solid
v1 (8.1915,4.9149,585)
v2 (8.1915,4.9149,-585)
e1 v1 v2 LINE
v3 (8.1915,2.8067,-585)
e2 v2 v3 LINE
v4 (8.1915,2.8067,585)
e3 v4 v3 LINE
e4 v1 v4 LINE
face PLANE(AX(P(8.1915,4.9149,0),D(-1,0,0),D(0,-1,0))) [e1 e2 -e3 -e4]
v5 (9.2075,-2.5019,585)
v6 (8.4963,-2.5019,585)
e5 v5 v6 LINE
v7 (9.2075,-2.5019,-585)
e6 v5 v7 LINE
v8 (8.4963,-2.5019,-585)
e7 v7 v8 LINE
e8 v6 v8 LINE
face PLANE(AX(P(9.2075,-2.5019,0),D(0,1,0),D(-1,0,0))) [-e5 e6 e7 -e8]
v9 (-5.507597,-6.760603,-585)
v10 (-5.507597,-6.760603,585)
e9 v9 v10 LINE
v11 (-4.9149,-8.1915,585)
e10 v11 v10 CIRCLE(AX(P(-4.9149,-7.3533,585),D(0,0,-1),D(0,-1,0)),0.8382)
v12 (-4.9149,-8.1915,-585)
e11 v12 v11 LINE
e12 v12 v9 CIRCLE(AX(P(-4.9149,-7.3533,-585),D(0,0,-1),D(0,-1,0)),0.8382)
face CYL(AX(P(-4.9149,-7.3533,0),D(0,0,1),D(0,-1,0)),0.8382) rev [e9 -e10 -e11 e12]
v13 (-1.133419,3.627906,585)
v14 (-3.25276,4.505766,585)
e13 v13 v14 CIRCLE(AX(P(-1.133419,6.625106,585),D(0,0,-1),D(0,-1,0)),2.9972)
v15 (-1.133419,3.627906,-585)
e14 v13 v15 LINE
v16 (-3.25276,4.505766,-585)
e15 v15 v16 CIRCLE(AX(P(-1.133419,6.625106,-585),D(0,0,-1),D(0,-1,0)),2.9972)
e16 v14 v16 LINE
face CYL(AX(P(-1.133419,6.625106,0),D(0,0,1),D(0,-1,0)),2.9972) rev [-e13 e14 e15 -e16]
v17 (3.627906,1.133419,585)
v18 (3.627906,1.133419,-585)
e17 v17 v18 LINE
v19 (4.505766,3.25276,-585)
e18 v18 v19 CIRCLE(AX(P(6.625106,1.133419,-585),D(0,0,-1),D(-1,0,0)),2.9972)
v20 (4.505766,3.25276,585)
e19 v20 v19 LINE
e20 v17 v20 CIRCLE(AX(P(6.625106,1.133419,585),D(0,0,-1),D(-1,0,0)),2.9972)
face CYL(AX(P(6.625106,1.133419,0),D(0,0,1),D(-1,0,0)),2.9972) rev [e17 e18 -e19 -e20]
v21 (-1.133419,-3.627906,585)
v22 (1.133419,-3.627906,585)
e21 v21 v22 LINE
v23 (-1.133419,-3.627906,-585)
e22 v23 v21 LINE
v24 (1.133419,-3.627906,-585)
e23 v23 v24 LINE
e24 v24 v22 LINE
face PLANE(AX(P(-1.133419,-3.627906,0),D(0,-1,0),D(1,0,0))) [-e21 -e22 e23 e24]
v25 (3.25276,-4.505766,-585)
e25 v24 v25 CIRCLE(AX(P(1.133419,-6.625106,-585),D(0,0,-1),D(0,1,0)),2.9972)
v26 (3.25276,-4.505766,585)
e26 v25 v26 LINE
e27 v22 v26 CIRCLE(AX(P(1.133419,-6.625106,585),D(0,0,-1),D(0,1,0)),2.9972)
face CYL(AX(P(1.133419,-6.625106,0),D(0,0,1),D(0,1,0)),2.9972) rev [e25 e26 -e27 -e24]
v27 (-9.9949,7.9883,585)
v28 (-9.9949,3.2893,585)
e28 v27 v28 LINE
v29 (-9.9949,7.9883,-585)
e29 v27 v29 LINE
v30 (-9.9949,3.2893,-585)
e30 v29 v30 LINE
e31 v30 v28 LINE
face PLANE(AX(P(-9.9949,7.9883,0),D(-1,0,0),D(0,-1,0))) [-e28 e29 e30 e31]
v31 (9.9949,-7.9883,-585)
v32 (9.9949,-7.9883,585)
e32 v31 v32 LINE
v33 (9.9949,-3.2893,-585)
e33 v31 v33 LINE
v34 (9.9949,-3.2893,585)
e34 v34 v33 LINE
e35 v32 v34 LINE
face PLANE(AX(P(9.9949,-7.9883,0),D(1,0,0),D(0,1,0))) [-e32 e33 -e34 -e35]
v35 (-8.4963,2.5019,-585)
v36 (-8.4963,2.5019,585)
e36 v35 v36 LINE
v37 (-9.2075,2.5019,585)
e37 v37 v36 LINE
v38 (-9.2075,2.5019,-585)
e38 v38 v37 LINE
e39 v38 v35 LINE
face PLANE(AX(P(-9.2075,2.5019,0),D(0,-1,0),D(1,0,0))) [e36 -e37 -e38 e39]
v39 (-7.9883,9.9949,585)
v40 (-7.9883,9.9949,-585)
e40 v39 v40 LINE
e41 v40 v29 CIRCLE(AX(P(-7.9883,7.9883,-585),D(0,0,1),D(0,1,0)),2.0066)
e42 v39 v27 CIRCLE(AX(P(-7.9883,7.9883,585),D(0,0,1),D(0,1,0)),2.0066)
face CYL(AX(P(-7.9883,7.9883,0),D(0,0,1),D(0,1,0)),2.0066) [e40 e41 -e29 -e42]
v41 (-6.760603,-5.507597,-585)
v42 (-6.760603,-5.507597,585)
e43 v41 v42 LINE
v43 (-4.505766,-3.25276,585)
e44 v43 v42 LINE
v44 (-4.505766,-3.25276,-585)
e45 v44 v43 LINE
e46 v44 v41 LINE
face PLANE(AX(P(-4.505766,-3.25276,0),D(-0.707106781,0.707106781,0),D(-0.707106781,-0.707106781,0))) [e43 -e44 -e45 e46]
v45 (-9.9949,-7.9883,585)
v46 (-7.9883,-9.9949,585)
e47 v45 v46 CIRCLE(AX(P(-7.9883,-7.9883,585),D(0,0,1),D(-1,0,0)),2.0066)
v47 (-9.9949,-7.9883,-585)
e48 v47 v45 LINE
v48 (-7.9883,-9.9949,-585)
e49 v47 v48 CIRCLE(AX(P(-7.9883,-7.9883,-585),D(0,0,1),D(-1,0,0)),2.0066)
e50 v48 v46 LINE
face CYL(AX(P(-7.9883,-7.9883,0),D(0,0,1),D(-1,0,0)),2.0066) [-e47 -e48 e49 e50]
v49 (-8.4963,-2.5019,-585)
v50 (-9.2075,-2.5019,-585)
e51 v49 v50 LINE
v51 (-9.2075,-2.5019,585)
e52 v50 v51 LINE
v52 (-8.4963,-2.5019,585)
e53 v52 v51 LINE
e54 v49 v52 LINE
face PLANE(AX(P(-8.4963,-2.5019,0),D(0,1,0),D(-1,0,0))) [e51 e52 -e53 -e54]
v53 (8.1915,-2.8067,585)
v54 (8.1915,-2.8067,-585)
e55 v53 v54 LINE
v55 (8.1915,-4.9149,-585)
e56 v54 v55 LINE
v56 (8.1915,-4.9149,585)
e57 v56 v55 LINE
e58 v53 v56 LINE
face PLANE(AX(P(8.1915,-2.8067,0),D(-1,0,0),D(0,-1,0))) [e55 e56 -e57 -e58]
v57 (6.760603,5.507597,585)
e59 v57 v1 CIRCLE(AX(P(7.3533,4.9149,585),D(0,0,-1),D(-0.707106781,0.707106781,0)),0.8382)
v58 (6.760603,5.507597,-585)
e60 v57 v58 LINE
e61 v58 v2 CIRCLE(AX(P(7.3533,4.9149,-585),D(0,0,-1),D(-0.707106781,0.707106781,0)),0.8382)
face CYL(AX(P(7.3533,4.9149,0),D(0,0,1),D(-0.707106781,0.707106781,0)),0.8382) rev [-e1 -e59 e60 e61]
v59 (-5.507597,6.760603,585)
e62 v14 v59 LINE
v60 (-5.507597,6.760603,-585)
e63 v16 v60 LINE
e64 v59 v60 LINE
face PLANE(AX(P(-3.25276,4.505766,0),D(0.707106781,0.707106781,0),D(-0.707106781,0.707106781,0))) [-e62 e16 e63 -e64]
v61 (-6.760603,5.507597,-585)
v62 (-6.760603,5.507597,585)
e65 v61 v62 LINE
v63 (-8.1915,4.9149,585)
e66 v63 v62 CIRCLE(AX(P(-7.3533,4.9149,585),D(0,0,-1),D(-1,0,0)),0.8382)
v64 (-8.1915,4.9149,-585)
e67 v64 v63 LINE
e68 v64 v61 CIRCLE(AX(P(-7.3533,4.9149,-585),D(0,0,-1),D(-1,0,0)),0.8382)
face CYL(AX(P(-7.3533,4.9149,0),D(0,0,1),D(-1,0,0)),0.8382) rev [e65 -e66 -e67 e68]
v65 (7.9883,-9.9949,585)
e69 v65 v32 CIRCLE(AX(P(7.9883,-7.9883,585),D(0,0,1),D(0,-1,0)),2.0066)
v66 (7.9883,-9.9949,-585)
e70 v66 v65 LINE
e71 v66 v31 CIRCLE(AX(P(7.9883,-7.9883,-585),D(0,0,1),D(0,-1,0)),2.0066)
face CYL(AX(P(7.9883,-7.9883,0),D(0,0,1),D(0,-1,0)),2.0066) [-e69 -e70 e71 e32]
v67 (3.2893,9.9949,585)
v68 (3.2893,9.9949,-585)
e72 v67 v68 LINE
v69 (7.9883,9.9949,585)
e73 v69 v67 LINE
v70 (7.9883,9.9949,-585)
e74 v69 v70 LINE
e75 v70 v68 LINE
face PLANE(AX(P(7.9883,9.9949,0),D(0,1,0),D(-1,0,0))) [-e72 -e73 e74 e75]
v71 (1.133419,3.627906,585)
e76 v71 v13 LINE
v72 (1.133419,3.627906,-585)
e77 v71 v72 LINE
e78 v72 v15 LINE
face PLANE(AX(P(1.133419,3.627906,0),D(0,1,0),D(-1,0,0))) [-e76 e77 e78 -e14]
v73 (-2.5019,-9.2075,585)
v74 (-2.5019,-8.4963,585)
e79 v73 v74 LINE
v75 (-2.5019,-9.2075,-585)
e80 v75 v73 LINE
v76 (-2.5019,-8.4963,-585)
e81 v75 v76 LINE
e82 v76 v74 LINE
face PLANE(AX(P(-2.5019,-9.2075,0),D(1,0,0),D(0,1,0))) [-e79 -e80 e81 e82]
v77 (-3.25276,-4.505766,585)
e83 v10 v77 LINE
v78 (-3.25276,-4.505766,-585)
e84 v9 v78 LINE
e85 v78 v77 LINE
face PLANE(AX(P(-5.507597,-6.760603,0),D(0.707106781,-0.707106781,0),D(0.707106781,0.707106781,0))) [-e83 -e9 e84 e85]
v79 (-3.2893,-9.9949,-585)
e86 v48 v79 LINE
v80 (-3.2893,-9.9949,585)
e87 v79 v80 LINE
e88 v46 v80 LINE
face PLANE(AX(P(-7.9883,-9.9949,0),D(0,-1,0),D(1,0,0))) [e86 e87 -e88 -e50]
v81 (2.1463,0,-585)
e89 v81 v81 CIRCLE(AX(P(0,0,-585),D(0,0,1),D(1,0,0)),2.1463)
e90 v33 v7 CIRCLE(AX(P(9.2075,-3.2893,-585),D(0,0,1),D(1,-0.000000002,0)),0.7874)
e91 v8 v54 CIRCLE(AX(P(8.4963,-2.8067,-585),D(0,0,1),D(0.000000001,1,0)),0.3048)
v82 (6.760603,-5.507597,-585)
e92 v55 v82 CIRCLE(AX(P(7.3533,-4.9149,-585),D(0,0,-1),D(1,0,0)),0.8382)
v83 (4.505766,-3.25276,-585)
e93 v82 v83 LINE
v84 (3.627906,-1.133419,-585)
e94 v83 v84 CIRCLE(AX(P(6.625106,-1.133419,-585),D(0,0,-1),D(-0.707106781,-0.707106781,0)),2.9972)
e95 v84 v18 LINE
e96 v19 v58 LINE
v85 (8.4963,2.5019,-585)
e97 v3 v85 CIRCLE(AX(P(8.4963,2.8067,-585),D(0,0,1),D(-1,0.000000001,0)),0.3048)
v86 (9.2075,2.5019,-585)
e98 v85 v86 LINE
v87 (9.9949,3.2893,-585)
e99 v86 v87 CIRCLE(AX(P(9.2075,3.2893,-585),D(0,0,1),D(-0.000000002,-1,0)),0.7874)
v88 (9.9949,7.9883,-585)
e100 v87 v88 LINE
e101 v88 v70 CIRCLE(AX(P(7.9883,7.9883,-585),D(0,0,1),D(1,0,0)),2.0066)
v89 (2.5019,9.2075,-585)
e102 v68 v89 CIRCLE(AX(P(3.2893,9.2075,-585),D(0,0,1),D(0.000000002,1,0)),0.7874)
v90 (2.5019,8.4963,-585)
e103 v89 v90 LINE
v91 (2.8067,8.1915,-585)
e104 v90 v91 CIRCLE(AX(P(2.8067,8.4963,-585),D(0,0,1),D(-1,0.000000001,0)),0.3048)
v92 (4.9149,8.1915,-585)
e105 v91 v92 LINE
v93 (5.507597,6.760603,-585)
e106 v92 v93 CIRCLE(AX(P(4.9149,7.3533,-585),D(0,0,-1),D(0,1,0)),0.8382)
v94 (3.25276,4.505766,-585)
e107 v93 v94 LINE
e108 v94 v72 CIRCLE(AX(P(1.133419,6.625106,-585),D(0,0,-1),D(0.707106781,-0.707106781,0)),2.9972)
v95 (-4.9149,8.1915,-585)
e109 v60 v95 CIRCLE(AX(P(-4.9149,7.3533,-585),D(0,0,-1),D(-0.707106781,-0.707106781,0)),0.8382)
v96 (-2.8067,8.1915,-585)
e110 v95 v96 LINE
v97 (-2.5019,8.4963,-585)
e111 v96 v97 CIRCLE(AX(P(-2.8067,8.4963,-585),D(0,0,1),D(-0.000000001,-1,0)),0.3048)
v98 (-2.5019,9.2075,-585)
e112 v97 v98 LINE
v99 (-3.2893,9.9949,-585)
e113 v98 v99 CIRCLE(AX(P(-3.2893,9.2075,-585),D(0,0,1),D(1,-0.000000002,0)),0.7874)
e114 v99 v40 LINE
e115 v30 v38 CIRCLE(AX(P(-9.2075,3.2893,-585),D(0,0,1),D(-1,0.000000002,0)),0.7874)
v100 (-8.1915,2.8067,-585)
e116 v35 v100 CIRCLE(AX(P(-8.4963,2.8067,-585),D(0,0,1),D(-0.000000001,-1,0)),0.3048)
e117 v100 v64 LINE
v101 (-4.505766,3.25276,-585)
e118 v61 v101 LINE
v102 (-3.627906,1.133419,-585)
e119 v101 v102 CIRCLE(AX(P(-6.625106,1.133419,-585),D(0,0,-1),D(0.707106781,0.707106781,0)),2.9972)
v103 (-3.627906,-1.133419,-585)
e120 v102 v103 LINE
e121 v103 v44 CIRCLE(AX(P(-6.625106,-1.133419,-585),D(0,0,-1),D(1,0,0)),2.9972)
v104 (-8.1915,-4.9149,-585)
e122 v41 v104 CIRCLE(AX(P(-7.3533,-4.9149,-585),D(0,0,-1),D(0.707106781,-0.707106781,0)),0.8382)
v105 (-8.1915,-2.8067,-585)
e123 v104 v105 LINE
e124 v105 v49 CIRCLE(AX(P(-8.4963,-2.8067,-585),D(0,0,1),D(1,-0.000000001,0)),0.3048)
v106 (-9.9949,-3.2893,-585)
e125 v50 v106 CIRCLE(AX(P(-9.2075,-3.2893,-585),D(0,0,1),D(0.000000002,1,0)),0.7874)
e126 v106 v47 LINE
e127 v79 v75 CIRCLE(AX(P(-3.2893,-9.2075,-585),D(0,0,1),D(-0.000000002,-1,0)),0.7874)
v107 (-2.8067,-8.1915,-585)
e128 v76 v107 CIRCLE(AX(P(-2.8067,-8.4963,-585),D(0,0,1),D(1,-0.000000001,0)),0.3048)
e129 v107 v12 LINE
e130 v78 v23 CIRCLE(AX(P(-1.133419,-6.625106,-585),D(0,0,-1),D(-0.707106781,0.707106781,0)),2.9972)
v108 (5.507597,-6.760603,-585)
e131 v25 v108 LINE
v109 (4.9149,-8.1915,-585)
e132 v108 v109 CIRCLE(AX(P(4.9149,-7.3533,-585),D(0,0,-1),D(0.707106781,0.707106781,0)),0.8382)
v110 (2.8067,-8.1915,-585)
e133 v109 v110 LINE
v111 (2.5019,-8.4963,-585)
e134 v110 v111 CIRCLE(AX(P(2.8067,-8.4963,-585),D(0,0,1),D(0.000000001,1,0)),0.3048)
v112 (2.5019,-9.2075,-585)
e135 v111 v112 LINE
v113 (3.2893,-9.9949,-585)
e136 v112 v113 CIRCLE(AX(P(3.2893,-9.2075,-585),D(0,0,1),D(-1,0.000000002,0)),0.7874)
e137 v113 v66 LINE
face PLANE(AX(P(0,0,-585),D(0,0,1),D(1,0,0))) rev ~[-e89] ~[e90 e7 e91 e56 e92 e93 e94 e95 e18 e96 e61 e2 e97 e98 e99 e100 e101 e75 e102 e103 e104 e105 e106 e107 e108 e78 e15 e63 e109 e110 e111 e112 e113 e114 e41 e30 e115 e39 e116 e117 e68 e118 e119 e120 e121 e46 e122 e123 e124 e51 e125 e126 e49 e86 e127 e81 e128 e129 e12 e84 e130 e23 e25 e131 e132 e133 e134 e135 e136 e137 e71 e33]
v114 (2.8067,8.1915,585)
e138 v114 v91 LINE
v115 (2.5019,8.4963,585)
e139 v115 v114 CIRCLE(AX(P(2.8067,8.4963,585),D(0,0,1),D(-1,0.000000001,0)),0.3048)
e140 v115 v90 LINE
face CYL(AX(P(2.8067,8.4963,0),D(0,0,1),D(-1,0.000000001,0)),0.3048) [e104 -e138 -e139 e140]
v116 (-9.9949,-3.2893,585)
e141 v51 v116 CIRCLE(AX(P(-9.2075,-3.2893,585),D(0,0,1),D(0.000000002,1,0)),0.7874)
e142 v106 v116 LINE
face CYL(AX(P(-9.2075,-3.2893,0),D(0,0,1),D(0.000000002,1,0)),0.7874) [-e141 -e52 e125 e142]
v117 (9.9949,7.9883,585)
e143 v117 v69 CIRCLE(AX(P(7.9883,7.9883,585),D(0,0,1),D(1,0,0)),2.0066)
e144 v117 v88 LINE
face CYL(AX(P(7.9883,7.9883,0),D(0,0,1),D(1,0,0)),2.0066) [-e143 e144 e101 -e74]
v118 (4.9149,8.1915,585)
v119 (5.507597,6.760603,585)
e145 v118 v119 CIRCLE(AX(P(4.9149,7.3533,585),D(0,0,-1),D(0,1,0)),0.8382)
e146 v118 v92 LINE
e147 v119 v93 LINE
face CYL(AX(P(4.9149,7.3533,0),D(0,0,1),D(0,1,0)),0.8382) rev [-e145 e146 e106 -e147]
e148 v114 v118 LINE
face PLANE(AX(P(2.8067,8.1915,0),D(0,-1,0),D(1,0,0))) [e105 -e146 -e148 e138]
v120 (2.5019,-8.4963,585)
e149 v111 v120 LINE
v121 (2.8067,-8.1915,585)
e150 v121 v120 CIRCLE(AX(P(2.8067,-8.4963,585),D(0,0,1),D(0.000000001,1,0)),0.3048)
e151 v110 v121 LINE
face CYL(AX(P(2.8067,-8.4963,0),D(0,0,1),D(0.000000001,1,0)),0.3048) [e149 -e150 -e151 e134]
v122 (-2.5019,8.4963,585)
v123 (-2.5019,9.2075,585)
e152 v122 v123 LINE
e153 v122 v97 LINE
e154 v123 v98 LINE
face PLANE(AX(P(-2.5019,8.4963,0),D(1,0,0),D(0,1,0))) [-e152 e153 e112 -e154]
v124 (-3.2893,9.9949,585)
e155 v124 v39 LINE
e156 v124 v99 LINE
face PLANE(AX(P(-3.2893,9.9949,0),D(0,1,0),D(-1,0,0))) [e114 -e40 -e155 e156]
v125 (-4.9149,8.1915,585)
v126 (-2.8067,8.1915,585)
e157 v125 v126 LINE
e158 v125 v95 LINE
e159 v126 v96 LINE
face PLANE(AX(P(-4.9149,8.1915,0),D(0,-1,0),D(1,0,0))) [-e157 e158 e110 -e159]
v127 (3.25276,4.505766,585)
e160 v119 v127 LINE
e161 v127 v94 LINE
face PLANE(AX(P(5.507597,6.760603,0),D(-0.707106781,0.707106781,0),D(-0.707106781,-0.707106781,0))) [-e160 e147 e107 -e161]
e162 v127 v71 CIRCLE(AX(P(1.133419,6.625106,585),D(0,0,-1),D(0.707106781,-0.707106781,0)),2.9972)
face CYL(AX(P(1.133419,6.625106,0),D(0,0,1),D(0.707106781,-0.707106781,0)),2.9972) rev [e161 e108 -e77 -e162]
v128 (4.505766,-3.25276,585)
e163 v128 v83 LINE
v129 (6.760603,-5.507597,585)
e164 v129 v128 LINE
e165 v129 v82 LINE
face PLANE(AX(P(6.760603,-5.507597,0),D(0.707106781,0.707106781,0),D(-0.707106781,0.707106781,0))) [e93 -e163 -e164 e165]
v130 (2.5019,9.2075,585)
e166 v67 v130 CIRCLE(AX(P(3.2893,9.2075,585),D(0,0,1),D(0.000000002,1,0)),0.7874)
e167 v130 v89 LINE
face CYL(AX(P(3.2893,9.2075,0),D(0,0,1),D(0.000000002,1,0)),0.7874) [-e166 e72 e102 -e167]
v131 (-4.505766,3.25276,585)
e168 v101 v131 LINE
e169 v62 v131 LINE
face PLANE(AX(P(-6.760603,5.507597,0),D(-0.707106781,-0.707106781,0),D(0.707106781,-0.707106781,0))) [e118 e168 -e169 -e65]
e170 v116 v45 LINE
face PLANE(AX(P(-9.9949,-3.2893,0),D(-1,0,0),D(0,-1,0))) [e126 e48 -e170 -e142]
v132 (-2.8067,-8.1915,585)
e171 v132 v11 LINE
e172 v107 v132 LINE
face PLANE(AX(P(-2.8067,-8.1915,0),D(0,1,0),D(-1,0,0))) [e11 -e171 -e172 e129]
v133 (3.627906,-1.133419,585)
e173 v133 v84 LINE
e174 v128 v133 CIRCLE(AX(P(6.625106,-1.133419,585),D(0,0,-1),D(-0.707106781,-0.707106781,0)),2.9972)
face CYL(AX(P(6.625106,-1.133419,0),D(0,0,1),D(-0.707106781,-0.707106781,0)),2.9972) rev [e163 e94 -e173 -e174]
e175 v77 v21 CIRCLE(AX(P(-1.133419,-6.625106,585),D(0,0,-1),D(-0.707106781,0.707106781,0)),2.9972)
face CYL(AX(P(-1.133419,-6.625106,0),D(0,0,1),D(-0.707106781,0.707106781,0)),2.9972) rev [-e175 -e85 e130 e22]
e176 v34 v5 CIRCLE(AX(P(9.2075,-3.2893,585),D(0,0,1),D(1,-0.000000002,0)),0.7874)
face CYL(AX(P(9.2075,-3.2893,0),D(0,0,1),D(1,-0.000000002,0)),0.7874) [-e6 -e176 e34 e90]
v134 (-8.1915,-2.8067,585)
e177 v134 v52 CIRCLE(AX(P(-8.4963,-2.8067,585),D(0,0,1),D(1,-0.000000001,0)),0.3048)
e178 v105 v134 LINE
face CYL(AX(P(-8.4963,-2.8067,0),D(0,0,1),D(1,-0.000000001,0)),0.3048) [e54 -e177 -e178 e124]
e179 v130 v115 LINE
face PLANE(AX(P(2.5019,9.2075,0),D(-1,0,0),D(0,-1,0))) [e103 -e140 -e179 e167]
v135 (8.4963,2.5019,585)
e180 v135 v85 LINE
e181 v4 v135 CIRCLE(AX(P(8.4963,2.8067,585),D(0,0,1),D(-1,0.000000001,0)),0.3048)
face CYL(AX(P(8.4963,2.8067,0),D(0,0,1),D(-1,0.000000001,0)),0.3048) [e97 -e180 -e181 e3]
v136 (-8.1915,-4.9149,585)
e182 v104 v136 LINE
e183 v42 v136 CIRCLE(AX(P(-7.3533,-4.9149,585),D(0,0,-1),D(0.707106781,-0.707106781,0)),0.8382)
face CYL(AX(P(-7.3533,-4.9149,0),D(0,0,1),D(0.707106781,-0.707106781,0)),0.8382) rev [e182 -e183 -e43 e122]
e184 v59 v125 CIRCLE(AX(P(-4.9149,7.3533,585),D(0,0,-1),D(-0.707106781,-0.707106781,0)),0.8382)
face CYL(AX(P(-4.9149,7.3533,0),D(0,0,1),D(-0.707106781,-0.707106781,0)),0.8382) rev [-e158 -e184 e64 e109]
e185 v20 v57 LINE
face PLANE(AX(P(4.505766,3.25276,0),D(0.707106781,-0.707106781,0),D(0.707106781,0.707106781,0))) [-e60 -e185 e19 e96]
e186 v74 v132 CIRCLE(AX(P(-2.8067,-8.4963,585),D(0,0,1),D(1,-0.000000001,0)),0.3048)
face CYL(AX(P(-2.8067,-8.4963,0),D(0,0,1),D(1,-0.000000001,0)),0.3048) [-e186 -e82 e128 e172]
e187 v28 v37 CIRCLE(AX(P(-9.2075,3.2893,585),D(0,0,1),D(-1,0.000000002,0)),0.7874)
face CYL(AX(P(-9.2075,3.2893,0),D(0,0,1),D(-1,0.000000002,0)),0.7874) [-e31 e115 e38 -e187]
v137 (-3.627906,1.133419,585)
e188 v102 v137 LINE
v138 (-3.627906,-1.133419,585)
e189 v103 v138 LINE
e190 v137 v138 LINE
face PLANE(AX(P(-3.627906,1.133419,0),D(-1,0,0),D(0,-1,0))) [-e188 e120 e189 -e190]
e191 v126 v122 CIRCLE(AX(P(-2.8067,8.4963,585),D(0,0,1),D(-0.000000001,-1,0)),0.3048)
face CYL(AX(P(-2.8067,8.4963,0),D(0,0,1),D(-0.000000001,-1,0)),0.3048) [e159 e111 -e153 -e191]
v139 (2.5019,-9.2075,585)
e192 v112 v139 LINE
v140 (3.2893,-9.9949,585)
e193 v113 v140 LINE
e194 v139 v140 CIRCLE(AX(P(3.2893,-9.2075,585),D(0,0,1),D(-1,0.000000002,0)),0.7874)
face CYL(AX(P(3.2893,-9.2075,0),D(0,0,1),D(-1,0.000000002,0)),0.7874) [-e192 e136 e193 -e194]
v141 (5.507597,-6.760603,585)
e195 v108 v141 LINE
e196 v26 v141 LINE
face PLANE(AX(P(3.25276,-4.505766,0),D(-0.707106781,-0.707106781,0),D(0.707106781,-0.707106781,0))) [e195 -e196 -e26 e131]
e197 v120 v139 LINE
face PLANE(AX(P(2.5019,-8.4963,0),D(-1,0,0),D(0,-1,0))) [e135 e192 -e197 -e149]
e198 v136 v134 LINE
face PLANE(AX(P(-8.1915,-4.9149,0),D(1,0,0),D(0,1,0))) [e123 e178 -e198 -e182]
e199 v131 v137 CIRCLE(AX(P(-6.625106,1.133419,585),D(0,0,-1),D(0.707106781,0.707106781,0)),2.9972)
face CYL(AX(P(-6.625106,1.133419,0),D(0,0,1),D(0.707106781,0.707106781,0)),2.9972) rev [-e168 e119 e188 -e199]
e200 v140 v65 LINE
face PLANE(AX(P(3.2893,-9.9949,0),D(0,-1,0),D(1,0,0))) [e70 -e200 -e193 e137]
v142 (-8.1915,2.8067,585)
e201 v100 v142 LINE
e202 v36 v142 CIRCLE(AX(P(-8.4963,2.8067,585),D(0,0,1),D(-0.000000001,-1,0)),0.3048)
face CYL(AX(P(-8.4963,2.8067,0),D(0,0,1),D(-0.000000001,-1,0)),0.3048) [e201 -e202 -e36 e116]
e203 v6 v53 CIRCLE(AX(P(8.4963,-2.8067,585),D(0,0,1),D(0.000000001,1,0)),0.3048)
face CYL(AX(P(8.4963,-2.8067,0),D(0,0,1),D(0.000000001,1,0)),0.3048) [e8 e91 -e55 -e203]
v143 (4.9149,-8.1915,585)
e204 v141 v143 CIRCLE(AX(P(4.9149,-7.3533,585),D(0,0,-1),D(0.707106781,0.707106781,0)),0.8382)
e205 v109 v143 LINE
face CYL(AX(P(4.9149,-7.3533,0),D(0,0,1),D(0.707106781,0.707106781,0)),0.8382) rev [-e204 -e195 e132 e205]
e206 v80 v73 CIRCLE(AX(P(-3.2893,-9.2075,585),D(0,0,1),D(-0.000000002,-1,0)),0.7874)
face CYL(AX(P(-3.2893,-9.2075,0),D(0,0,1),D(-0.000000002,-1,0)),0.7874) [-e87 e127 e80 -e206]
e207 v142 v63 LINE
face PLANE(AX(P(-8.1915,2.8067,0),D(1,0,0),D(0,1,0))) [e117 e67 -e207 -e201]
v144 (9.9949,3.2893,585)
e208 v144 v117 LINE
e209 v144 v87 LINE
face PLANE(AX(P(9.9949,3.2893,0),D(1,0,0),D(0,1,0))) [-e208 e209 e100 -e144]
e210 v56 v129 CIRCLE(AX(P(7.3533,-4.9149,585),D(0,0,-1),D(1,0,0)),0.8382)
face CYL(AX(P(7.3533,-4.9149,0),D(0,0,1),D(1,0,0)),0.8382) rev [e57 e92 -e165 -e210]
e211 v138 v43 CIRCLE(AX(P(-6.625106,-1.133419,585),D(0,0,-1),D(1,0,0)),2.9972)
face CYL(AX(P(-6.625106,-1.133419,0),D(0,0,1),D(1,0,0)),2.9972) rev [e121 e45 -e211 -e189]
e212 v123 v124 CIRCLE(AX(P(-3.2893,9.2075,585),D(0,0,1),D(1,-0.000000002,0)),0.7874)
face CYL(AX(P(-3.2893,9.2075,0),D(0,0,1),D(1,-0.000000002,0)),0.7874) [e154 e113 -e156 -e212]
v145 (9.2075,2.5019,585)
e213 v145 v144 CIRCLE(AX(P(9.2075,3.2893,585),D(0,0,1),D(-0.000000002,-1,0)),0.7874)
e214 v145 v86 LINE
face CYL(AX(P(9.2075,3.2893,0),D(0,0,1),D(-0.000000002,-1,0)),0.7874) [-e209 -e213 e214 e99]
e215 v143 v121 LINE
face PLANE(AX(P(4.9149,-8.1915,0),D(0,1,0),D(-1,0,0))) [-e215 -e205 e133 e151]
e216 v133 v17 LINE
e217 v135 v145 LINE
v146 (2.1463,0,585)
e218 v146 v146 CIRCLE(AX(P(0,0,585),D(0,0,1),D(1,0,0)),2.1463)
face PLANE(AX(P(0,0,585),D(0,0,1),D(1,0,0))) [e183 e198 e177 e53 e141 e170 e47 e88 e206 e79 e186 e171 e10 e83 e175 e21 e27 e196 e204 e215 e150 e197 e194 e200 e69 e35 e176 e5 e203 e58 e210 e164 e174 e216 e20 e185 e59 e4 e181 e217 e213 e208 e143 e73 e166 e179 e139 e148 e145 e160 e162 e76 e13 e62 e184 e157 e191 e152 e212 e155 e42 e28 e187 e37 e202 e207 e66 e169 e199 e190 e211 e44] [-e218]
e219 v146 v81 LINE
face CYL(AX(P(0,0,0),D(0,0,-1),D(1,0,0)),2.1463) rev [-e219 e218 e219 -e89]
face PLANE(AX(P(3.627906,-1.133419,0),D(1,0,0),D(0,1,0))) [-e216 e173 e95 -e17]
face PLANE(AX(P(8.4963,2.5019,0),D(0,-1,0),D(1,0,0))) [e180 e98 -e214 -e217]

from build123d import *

# Parameters (mm, degrees)
SKETCH1_R           = 2.1463
BOSS_EXTRUDE1_DEPTH = 585


with BuildPart() as part:
    # Sketch1 → Boss-Extrude1 (new body, symmetric)
    with BuildSketch(Plane.XY):
        with BuildLine():
            Line((-9.9949, 7.9883), (-9.9949, 3.2893))
            ThreePointArc((-9.9949, 3.2893), (-9.76427588, 2.73252412), (-9.2075, 2.5019))
            Line((-9.2075, 2.5019), (-8.4963, 2.5019))
            ThreePointArc((-8.4963, 2.5019), (-8.280773853, 2.591173853), (-8.1915, 2.8067))
            Line((-8.1915, 2.8067), (-8.1915, 4.9149))
            ThreePointArc((-8.1915, 4.9149), (-7.674065253, 5.689295824), (-6.760603096, 5.507596904))
            Line((-6.760603096, 5.507596904), (-4.505765747, 3.252759555))
            ThreePointArc((-4.505765747, 3.252759555), (-3.856054457, 2.280397894), (-3.627906192, 1.133419111))
            Line((-3.627906192, 1.133419111), (-3.627906192, -1.133419111))
            ThreePointArc((-3.627906192, -1.133419111), (-3.856054457, -2.280397894), (-4.505765747, -3.252759555))
            Line((-4.505765747, -3.252759555), (-6.760603096, -5.507596904))
            ThreePointArc((-6.760603096, -5.507596904), (-7.674065253, -5.689295824), (-8.1915, -4.9149))
            Line((-8.1915, -4.9149), (-8.1915, -2.8067))
            ThreePointArc((-8.1915, -2.8067), (-8.280773853, -2.591173853), (-8.4963, -2.5019))
            Line((-8.4963, -2.5019), (-9.2075, -2.5019))
            ThreePointArc((-9.2075, -2.5019), (-9.76427588, -2.73252412), (-9.9949, -3.2893))
            Line((-9.9949, -3.2893), (-9.9949, -7.9883))
            ThreePointArc((-9.9949, -7.9883), (-9.407180467, -9.407180467), (-7.9883, -9.9949))
            Line((-7.9883, -9.9949), (-3.2893, -9.9949))
            ThreePointArc((-3.2893, -9.9949), (-2.73252412, -9.76427588), (-2.5019, -9.2075))
            Line((-2.5019, -9.2075), (-2.5019, -8.4963))
            ThreePointArc((-2.5019, -8.4963), (-2.591173853, -8.280773853), (-2.8067, -8.1915))
            Line((-2.8067, -8.1915), (-4.9149, -8.1915))
            ThreePointArc((-4.9149, -8.1915), (-5.689295824, -7.674065253), (-5.507596904, -6.760603096))
            Line((-5.507596904, -6.760603096), (-3.252759555, -4.505765747))
            ThreePointArc((-3.252759555, -4.505765747), (-2.280397894, -3.856054457), (-1.133419111, -3.627906192))
            Line((-1.133419111, -3.627906192), (1.133419111, -3.627906192))
            ThreePointArc((1.133419111, -3.627906192), (2.280397894, -3.856054457), (3.252759555, -4.505765747))
            Line((3.252759555, -4.505765747), (5.507596904, -6.760603096))
            ThreePointArc((5.507596904, -6.760603096), (5.689295824, -7.674065253), (4.9149, -8.1915))
            Line((4.9149, -8.1915), (2.8067, -8.1915))
            ThreePointArc((2.8067, -8.1915), (2.591173853, -8.280773853), (2.5019, -8.4963))
            Line((2.5019, -8.4963), (2.5019, -9.2075))
            ThreePointArc((2.5019, -9.2075), (2.73252412, -9.76427588), (3.2893, -9.9949))
            Line((3.2893, -9.9949), (7.9883, -9.9949))
            ThreePointArc((7.9883, -9.9949), (9.407180467, -9.407180467), (9.9949, -7.9883))
            Line((9.9949, -7.9883), (9.9949, -3.2893))
            ThreePointArc((9.9949, -3.2893), (9.76427588, -2.73252412), (9.2075, -2.5019))
            Line((9.2075, -2.5019), (8.4963, -2.5019))
            ThreePointArc((8.4963, -2.5019), (8.280773853, -2.591173853), (8.1915, -2.8067))
            Line((8.1915, -2.8067), (8.1915, -4.9149))
            ThreePointArc((8.1915, -4.9149), (7.674065253, -5.689295824), (6.760603096, -5.507596904))
            Line((6.760603096, -5.507596904), (4.505765747, -3.252759555))
            ThreePointArc((4.505765747, -3.252759555), (3.856054457, -2.280397894), (3.627906192, -1.133419111))
            Line((3.627906192, -1.133419111), (3.627906192, 1.133419111))
            ThreePointArc((3.627906192, 1.133419111), (3.856054457, 2.280397894), (4.505765747, 3.252759555))
            Line((4.505765747, 3.252759555), (6.760603096, 5.507596904))
            ThreePointArc((6.760603096, 5.507596904), (7.674065253, 5.689295824), (8.1915, 4.9149))
            Line((8.1915, 4.9149), (8.1915, 2.8067))
            ThreePointArc((8.1915, 2.8067), (8.280773853, 2.591173853), (8.4963, 2.5019))
            Line((8.4963, 2.5019), (9.2075, 2.5019))
            ThreePointArc((9.2075, 2.5019), (9.76427588, 2.73252412), (9.9949, 3.2893))
            Line((9.9949, 3.2893), (9.9949, 7.9883))
            ThreePointArc((9.9949, 7.9883), (9.407180467, 9.407180467), (7.9883, 9.9949))
            Line((7.9883, 9.9949), (3.2893, 9.9949))
            ThreePointArc((3.2893, 9.9949), (2.73252412, 9.76427588), (2.5019, 9.2075))
            Line((2.5019, 9.2075), (2.5019, 8.4963))
            ThreePointArc((2.5019, 8.4963), (2.591173853, 8.280773853), (2.8067, 8.1915))
            Line((2.8067, 8.1915), (4.9149, 8.1915))
            ThreePointArc((4.9149, 8.1915), (5.689295824, 7.674065253), (5.507596904, 6.760603096))
            Line((5.507596904, 6.760603096), (3.252759555, 4.505765747))
            ThreePointArc((3.252759555, 4.505765747), (2.280397894, 3.856054457), (1.133419111, 3.627906192))
            Line((1.133419111, 3.627906192), (-1.133419111, 3.627906192))
            ThreePointArc((-1.133419111, 3.627906192), (-2.280397894, 3.856054457), (-3.252759555, 4.505765747))
            Line((-3.252759555, 4.505765747), (-5.507596904, 6.760603096))
            ThreePointArc((-5.507596904, 6.760603096), (-5.689295824, 7.674065253), (-4.9149, 8.1915))
            Line((-4.9149, 8.1915), (-2.8067, 8.1915))
            ThreePointArc((-2.8067, 8.1915), (-2.591173853, 8.280773853), (-2.5019, 8.4963))
            Line((-2.5019, 8.4963), (-2.5019, 9.2075))
            ThreePointArc((-2.5019, 9.2075), (-2.73252412, 9.76427588), (-3.2893, 9.9949))
            Line((-3.2893, 9.9949), (-7.9883, 9.9949))
            ThreePointArc((-7.9883, 9.9949), (-9.407180467, 9.407180467), (-9.9949, 7.9883))
        make_face()
        Circle(SKETCH1_R, mode=Mode.SUBTRACT)
    extrude(amount=BOSS_EXTRUDE1_DEPTH, both=True)


solid = part.part
